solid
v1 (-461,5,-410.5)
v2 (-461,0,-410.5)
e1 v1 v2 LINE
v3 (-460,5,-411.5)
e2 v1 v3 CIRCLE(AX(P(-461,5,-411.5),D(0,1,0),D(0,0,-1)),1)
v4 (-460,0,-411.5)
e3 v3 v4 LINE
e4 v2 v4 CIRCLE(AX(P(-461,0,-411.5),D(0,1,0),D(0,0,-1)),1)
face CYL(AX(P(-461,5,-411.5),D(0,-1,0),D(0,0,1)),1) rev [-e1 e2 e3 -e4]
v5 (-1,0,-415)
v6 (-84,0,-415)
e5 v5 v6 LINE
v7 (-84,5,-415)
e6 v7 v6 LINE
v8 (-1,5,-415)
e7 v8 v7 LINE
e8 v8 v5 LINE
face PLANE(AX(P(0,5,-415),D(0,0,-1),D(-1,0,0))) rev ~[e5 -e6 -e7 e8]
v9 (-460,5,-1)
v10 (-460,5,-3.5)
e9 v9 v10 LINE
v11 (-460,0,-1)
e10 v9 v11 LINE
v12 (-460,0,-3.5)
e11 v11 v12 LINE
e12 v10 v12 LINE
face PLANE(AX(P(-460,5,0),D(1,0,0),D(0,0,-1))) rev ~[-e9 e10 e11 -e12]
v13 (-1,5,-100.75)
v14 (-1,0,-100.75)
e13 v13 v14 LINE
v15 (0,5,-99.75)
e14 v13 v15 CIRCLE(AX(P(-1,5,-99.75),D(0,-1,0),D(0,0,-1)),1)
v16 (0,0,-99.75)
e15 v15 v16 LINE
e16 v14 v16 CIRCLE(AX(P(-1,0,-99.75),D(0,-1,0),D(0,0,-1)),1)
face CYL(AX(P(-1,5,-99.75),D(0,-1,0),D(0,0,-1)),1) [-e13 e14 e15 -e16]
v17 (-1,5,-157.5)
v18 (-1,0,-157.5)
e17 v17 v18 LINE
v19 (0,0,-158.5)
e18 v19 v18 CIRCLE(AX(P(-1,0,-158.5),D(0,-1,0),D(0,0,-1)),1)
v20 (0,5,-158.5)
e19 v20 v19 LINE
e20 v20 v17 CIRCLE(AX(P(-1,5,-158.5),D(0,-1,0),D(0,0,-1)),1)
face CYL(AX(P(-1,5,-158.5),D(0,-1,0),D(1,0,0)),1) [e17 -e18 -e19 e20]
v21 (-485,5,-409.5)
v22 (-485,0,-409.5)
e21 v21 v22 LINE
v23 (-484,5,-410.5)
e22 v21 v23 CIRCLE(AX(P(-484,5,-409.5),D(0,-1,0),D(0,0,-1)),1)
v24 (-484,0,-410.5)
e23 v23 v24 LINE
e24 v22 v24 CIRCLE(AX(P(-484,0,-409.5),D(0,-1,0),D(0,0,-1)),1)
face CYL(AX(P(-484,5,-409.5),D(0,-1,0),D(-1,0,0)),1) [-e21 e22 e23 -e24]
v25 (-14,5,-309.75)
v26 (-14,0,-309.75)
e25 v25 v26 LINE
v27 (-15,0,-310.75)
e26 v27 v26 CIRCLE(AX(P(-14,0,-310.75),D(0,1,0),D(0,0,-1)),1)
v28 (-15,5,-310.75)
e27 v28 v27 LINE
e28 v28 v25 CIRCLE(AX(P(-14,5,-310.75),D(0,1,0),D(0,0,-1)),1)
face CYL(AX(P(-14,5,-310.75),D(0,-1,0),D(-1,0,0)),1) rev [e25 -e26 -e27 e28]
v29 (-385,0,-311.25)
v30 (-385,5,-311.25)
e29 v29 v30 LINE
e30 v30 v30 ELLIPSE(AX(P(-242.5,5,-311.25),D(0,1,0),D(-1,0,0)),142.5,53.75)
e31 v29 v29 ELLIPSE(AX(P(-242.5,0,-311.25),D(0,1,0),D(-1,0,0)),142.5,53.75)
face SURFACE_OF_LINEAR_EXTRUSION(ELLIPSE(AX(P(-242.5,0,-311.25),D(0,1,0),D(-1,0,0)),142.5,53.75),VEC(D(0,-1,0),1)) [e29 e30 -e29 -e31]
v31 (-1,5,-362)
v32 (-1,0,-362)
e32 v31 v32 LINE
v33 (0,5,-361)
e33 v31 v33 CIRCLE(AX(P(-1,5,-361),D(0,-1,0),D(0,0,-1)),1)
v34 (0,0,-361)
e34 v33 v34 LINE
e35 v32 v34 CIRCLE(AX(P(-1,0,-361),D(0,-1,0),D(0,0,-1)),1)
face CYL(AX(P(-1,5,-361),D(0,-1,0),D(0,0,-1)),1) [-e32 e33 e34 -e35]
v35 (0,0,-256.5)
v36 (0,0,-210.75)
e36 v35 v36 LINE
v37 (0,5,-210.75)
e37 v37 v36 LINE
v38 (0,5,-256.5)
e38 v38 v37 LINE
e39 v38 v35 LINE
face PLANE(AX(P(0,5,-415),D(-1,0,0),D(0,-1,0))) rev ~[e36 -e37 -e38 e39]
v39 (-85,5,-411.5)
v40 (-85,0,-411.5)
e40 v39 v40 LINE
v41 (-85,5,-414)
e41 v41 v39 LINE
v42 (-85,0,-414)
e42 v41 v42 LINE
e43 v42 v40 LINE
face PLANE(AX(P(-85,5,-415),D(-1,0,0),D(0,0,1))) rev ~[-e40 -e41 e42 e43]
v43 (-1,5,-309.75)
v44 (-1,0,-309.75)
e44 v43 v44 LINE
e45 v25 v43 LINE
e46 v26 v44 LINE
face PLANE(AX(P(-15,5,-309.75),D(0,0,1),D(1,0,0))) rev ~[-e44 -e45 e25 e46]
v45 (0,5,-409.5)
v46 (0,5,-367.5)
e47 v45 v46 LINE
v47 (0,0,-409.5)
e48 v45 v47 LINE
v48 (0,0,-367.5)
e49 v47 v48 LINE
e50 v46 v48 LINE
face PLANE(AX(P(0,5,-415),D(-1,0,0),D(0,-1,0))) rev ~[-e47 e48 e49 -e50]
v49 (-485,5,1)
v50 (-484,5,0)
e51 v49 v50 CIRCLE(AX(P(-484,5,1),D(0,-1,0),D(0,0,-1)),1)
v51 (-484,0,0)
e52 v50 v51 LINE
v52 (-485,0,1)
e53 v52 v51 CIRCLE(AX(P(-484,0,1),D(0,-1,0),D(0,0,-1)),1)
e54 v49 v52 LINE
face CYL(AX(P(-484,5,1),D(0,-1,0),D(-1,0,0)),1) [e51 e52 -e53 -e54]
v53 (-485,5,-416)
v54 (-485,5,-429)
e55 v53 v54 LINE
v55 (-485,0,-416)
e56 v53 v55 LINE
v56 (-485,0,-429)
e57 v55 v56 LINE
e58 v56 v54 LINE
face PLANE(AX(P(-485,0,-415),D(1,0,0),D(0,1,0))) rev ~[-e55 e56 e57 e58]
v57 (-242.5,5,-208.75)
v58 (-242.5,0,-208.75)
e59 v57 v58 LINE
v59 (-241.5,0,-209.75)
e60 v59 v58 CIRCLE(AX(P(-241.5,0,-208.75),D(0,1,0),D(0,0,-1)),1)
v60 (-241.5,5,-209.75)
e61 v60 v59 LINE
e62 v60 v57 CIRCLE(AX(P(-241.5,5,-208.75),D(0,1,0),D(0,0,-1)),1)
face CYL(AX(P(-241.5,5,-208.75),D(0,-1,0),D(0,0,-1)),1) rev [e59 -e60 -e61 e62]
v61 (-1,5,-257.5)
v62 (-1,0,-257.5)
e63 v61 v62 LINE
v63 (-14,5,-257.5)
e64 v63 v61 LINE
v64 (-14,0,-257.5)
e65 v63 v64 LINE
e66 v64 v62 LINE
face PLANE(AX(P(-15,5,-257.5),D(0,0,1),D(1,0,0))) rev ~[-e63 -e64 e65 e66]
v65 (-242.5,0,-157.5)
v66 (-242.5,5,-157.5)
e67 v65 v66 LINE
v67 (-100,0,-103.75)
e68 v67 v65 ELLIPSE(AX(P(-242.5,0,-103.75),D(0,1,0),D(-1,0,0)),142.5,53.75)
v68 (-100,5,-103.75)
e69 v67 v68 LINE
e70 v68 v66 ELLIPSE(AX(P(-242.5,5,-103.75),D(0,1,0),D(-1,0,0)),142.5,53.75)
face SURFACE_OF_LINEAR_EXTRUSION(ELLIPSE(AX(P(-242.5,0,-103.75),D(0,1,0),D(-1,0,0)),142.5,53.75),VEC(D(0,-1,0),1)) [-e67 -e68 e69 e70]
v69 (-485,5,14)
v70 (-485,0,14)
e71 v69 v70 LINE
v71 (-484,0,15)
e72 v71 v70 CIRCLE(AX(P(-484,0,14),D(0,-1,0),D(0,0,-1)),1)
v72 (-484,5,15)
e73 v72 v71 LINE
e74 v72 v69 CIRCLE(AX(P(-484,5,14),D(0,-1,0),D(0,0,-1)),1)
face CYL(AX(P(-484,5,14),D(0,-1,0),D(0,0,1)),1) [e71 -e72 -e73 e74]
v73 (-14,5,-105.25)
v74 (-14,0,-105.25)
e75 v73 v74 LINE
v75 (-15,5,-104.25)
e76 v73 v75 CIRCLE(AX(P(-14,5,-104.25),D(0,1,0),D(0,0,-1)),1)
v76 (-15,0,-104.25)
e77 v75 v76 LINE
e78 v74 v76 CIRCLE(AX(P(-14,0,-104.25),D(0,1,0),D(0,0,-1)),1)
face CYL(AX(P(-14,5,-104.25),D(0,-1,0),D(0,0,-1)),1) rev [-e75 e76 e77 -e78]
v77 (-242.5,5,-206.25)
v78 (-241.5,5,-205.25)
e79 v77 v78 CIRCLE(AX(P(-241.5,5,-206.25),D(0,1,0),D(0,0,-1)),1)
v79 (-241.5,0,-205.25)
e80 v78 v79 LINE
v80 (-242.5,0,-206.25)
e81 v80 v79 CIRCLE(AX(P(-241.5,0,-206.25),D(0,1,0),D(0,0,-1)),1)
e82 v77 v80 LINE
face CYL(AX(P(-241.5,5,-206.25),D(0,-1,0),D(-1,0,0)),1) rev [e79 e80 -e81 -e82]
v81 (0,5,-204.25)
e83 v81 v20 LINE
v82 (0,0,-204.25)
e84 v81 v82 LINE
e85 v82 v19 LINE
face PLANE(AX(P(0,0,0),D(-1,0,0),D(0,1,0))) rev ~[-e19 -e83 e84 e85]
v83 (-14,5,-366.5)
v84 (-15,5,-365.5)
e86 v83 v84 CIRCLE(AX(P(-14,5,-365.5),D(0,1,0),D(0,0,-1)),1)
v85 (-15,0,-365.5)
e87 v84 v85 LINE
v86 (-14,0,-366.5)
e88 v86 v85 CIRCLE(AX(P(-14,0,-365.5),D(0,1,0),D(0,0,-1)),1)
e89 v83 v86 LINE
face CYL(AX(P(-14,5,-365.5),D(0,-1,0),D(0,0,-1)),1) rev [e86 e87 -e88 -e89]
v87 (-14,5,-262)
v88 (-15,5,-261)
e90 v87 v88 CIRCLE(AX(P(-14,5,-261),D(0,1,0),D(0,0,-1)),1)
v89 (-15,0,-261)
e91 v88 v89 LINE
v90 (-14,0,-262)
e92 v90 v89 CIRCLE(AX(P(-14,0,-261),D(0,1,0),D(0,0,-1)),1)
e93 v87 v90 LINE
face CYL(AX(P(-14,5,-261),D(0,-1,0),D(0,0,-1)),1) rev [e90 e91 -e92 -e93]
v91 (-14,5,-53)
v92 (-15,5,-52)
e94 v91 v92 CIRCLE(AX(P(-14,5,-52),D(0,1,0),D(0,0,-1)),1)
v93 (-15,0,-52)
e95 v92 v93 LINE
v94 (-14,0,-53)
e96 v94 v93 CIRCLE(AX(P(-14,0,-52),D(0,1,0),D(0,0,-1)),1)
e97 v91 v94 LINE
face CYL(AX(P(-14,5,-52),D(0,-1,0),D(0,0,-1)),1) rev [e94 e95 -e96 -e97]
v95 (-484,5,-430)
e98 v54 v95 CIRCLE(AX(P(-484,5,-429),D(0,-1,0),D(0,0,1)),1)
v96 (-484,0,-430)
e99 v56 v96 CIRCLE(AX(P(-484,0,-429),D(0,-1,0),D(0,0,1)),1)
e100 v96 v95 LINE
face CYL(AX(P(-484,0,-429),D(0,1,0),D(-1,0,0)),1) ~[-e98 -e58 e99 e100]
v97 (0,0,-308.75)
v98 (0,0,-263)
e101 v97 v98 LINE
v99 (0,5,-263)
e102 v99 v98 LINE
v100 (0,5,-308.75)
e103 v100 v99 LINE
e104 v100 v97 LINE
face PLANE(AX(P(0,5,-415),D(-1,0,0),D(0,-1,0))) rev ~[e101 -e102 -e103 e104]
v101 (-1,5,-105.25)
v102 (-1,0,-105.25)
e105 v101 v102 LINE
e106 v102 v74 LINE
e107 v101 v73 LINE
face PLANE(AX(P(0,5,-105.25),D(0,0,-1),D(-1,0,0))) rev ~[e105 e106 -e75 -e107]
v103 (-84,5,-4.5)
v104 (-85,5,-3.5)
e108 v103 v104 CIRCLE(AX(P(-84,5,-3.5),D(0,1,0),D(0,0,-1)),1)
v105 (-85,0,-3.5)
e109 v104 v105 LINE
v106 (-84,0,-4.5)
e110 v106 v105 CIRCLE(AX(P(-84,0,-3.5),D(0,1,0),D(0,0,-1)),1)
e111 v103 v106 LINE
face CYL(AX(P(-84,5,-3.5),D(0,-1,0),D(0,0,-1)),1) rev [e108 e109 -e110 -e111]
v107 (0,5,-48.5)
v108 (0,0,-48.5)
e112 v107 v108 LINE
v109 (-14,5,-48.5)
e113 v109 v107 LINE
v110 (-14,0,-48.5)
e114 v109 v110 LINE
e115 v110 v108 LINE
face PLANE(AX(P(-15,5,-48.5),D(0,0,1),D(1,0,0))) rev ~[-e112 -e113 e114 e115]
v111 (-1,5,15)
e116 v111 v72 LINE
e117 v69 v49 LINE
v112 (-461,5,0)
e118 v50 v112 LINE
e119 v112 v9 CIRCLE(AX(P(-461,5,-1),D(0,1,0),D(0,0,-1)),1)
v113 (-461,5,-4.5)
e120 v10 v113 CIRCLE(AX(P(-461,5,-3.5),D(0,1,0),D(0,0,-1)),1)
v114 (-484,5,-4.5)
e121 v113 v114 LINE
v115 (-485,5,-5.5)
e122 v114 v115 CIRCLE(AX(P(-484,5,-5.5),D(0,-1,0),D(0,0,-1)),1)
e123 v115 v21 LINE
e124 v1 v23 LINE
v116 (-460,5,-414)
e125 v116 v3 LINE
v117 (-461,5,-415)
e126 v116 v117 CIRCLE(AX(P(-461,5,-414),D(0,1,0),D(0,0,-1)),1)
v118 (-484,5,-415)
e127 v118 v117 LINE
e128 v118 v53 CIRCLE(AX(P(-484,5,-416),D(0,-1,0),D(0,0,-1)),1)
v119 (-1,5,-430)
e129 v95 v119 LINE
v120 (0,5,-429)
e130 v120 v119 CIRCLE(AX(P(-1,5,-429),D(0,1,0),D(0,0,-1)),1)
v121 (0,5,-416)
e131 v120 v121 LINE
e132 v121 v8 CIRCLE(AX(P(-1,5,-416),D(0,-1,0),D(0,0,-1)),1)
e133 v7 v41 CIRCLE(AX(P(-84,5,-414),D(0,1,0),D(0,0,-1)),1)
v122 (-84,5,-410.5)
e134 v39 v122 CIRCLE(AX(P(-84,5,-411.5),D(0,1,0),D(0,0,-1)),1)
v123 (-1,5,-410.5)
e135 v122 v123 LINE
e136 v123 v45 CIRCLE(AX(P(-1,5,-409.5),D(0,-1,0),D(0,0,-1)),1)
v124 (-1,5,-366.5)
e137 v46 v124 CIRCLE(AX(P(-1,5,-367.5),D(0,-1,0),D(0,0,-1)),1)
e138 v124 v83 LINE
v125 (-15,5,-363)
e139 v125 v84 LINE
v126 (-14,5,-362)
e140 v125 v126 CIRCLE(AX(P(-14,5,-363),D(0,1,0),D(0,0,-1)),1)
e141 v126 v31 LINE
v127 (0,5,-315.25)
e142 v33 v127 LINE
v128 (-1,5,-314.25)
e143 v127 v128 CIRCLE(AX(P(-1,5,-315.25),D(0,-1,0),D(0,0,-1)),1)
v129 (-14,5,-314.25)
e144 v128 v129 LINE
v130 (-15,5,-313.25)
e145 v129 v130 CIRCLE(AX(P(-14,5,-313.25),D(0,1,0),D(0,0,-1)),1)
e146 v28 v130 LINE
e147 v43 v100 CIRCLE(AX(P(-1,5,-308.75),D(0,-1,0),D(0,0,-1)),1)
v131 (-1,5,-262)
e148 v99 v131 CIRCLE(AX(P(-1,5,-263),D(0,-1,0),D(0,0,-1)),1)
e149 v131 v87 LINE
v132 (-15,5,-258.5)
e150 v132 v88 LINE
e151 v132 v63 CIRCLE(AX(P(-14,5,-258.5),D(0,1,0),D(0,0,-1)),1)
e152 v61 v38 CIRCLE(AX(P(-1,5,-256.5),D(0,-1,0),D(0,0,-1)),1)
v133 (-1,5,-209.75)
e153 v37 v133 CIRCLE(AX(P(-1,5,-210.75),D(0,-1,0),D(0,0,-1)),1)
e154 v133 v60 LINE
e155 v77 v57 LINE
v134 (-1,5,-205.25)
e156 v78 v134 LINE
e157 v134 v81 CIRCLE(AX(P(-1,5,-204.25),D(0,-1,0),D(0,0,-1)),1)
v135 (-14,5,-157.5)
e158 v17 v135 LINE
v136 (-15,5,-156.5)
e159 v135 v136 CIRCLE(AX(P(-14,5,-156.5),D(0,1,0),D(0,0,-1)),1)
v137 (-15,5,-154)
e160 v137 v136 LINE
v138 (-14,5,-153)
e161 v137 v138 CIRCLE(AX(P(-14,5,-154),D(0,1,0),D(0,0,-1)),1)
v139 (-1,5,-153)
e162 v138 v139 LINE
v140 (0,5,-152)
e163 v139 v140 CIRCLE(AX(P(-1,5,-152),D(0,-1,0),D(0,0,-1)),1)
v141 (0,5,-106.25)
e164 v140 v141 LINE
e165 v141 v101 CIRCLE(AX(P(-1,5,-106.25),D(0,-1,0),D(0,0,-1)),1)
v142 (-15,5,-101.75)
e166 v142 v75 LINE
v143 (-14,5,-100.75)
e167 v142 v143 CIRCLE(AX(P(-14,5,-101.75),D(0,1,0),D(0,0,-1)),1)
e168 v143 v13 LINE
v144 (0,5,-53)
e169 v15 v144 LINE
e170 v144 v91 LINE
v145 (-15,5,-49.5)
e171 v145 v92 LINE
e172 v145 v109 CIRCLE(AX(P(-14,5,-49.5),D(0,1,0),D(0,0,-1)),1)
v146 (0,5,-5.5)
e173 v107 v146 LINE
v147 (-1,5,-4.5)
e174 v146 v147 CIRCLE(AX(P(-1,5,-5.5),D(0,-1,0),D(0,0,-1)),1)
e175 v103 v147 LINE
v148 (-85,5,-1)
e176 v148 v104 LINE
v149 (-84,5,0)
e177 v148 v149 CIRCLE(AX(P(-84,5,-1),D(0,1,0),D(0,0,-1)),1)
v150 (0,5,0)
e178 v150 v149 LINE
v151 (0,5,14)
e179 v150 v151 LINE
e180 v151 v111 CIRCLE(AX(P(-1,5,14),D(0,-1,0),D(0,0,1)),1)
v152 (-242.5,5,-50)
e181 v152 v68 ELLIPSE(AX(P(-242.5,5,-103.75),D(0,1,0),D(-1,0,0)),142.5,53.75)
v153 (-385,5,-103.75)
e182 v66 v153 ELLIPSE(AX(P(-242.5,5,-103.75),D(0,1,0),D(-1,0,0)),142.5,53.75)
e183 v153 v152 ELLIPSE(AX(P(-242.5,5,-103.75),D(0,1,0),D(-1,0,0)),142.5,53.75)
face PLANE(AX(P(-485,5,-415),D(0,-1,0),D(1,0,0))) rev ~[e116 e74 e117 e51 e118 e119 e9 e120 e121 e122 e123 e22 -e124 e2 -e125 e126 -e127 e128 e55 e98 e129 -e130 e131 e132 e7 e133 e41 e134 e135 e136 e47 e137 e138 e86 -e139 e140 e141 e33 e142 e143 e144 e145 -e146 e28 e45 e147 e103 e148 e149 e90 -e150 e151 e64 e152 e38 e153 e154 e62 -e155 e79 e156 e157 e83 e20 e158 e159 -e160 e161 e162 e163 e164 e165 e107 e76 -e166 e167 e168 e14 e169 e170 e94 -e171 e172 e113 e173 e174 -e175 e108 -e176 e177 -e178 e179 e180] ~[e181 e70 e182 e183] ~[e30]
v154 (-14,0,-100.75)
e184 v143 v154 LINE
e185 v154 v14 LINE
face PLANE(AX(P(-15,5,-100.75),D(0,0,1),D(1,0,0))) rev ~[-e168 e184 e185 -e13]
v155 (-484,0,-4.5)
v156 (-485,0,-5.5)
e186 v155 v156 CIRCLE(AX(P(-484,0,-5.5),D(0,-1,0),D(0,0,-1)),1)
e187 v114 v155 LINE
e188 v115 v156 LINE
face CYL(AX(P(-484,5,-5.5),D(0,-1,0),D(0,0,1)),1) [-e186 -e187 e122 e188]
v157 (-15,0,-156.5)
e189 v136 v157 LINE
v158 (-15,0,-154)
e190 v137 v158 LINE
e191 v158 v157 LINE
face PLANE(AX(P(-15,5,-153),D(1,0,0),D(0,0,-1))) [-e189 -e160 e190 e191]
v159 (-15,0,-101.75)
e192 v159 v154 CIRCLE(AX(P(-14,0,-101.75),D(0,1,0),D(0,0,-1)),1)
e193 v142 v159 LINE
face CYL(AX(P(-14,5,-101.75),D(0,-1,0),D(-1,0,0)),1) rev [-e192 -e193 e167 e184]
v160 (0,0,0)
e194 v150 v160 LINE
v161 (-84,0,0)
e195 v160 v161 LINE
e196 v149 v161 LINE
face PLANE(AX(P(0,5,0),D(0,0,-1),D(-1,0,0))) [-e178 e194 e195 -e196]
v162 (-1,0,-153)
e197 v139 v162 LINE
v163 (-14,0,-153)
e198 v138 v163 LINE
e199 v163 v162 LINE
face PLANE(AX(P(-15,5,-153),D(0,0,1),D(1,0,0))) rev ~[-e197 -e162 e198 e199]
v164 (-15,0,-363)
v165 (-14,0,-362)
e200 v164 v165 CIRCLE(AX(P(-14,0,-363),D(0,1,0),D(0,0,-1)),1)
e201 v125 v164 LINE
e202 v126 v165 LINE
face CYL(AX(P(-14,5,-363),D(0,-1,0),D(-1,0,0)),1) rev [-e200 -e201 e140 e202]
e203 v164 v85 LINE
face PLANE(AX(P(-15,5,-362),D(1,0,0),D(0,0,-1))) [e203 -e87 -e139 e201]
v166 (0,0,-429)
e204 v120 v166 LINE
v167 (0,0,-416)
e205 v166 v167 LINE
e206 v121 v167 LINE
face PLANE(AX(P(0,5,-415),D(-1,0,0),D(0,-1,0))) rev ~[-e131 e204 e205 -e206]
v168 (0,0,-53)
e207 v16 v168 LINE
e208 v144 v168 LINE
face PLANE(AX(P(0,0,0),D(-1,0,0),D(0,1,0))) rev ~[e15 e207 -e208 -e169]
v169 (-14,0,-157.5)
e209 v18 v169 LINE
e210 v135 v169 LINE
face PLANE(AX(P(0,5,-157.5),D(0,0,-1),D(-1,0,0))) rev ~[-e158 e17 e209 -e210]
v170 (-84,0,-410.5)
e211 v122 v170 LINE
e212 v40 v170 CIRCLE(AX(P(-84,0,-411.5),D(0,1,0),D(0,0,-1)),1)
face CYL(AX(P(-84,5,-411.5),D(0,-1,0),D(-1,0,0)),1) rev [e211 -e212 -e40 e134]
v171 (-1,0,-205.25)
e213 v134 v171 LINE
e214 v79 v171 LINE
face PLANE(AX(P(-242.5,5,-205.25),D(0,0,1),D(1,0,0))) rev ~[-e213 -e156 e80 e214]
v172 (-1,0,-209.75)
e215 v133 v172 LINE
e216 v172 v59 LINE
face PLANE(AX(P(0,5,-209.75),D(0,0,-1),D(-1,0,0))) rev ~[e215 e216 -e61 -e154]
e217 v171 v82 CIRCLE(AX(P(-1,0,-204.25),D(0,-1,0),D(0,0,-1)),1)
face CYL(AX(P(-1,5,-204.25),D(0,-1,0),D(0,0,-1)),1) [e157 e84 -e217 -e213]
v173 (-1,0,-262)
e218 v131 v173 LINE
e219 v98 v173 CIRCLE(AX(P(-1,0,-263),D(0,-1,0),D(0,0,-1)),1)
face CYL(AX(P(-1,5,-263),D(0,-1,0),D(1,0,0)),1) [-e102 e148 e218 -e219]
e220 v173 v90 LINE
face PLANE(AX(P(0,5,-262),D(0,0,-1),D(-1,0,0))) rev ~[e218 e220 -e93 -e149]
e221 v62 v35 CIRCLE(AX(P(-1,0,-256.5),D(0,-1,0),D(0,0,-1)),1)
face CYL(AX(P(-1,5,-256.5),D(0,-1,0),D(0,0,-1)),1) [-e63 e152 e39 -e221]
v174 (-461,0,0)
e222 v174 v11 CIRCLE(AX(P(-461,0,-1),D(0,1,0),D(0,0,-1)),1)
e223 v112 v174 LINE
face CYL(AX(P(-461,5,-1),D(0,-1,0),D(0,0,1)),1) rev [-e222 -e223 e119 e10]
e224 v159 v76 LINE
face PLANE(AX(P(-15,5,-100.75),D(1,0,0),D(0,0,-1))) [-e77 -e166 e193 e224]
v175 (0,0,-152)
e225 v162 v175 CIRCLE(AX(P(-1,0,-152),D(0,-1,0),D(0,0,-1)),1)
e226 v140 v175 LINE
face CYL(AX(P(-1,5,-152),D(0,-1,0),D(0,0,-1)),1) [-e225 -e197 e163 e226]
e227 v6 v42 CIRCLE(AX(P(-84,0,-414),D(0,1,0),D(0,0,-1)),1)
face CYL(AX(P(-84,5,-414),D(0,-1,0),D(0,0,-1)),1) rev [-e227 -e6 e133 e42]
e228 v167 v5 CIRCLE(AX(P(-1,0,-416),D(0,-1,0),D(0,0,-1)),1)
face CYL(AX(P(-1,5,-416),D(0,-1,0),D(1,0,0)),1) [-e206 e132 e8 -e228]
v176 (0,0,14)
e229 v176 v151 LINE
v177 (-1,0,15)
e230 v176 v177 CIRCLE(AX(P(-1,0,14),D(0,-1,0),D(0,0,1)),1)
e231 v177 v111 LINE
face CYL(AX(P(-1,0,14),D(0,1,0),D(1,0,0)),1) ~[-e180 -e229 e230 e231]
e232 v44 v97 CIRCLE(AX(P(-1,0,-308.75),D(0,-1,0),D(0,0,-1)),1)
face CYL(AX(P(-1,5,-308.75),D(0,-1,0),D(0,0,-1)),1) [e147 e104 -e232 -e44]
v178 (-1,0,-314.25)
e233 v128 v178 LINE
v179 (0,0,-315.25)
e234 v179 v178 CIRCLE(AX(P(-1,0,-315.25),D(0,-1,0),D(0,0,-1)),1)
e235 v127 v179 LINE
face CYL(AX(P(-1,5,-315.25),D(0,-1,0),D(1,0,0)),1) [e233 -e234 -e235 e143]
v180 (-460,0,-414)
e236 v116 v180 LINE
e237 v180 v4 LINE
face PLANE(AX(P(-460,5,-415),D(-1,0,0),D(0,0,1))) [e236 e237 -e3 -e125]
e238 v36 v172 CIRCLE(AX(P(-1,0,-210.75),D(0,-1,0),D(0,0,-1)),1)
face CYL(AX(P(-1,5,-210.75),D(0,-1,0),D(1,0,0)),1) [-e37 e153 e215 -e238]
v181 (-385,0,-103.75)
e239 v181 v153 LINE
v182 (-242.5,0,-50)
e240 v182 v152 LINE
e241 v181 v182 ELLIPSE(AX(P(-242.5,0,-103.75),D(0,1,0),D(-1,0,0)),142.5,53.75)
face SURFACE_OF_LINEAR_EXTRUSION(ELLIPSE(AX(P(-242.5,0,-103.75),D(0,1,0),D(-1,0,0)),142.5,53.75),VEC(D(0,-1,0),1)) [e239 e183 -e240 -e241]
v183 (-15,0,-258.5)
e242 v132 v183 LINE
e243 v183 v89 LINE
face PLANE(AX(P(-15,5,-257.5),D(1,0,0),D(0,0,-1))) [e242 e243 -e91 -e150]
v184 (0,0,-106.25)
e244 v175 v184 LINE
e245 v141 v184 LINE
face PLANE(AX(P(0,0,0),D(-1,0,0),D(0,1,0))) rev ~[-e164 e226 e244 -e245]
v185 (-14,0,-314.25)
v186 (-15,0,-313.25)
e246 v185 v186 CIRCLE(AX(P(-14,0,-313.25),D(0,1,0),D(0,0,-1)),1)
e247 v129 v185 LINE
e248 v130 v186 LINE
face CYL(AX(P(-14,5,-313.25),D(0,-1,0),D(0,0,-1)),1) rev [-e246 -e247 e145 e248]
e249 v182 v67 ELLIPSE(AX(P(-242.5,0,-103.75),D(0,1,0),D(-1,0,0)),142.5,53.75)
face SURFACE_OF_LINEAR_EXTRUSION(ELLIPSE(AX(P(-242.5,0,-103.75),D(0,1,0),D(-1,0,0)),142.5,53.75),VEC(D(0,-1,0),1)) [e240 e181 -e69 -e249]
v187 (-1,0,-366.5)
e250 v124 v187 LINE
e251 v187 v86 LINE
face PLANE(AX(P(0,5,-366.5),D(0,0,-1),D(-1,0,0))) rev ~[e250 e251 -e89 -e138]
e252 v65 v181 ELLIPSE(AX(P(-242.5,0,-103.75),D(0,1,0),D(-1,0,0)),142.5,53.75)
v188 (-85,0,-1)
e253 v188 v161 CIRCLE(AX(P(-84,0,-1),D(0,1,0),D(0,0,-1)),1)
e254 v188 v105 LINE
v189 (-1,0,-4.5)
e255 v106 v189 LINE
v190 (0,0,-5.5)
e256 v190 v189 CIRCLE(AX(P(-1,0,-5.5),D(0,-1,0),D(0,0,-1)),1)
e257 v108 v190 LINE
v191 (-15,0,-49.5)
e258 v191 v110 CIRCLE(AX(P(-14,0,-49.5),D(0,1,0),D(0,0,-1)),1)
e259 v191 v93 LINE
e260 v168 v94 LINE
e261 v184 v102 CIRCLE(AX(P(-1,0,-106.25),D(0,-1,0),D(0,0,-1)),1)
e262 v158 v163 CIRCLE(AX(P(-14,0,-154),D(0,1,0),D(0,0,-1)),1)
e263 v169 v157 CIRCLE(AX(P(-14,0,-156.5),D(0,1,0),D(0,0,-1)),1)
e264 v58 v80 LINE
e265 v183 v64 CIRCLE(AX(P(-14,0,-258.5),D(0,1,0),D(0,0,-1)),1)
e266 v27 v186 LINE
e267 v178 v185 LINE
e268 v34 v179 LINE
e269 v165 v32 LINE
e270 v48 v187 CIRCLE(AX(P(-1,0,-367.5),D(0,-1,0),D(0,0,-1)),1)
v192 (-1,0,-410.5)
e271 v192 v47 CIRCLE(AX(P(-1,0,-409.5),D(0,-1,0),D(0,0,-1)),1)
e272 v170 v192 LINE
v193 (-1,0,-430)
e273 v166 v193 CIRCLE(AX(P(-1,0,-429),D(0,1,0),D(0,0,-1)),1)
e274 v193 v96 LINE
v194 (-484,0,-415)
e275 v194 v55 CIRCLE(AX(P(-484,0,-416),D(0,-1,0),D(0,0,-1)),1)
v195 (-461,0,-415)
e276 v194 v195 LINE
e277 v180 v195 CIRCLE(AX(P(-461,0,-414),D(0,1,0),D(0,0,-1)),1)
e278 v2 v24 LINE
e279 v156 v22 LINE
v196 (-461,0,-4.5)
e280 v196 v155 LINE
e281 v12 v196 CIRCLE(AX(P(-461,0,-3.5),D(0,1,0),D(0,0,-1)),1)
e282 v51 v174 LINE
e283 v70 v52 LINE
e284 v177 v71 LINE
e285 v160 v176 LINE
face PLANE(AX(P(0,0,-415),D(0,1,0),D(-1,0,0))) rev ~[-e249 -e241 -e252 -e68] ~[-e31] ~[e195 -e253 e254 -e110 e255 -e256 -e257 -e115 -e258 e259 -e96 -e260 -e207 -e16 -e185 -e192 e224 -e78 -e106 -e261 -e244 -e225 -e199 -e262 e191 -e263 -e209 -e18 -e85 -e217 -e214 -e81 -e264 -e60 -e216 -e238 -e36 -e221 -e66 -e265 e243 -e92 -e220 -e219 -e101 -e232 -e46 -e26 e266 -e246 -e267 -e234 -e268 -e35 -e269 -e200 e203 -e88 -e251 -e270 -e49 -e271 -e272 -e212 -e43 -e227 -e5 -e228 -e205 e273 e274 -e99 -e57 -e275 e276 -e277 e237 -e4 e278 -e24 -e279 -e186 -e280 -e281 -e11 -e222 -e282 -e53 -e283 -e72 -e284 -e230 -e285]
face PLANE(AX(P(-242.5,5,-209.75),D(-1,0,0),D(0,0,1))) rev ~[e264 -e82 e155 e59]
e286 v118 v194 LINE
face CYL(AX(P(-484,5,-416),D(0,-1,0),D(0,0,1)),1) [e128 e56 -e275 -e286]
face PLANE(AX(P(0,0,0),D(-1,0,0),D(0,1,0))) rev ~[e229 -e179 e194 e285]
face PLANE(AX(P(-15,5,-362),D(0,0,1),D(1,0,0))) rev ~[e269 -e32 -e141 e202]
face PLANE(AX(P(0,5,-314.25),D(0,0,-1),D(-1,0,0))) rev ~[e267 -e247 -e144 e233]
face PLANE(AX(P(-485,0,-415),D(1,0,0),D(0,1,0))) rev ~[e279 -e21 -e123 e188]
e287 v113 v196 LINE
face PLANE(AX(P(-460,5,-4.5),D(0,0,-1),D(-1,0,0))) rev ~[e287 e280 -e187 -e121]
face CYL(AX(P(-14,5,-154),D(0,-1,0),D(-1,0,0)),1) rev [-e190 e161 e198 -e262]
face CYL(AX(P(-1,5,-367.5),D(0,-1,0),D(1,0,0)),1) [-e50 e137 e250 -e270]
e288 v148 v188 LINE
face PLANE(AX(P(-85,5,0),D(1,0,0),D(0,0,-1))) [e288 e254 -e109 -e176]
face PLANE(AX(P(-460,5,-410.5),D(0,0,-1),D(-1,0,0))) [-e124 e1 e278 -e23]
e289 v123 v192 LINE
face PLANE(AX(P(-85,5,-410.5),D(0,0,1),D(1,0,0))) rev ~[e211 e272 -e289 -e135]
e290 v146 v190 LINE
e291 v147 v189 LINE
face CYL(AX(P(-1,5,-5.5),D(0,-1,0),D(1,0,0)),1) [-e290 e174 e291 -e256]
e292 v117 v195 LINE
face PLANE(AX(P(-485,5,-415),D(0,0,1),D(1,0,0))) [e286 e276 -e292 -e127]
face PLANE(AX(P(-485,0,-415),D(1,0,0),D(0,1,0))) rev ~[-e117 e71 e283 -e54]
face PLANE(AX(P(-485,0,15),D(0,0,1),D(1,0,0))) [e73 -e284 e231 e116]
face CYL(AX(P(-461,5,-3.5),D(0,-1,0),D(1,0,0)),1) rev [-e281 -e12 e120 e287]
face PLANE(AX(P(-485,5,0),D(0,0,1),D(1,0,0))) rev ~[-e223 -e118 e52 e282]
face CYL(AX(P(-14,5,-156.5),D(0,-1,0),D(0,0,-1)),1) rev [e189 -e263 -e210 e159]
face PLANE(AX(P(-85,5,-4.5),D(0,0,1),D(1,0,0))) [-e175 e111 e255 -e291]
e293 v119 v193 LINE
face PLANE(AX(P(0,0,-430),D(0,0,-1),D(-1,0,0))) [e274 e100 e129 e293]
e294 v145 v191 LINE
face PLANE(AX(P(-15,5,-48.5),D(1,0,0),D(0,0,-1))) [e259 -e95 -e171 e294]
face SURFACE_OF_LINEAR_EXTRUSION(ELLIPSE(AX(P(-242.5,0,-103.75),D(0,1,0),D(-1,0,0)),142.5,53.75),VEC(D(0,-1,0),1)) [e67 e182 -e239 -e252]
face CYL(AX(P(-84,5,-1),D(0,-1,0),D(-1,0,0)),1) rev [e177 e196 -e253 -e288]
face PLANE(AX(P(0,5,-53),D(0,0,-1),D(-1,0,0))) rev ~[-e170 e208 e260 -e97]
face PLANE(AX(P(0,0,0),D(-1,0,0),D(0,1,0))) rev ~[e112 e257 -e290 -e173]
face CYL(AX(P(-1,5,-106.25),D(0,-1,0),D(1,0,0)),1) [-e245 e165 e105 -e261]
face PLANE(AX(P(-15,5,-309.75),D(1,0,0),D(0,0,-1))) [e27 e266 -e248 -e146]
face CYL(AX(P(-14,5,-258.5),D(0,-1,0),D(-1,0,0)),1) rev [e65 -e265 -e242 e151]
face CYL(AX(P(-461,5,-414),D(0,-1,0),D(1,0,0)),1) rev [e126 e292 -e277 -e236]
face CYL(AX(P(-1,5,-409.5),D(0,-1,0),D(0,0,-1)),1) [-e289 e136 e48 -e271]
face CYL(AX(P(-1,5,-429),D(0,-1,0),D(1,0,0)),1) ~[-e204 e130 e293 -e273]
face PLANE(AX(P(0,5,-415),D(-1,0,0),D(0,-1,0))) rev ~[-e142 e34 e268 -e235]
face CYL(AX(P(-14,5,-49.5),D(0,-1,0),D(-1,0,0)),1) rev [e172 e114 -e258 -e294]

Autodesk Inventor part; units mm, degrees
ref_plane "YZ Plane" through (0, 0, 0) normal (1, 0, 0) x (0, 1, 0)
ref_plane "XZ Plane" through (0, 0, 0) normal (0, 1, 0) x (-1, 0, 0)
ref_plane "XY Plane" through (0, 0, 0) normal (0, 0, 1) x (1, 0, 0)
sketch "Sketch1" plane through (0, 0, 0) normal (0, 1, 0) x (-1, 0, 0)
  line L0 (0, 0) -> (485, 0)
  line L1 (485, 0) -> (485, -415)
  line L2 (485, -415) -> (0, -415)
  line L3 (0, -415) -> (0, 0)
  line L4 (485, -207.5) -> (0, -207.5)
  line L5 (0, -207.5) -> (0, 0)
  line L6 (0, -103.75) -> (100, -103.75)
  line L7 (485, -103.75) -> (385, -103.75)
  line L8 (242.5, 0) -> (242.5, -103.75)
  line L9 (242.5, -207.5) -> (242.5, -157.5)
  ellipse E0 centre (242.5, -103.75) end of major axis (385, -103.75) minor radius 53.75
  ellipse E1 centre (242.5, -311.25) end of major axis (385, -311.25) minor radius 53.75
  dimension "d0" = 485
  dimension "d1" = 415
  dimension "d2" = 100
  dimension "d3" = 100
  dimension "d4" = 103.75
  dimension "d5" = 50
  dimension "d6" = 103.75
  dimension "d7" = 103.75
extrude "Extrusion1" add sketch "Sketch1" along normal blind 5 contours L0 L8 E0 L6 L3 | L0 L1 L7 E0 L8 | L6 E0 L9 L4 L3 | L4 L1 L2 L3 | L1 L4 L9 E0 L7
sketch "Sketch2" plane through (0, 5, 0) normal (0, 1, 0) x (1, 0, 0)
  line L0 (0, 0) -> (0, 415) projected
  line L1 (0, 207.5) -> (0, 209.75)
  line L2 (0, 209.75) -> (0, 207.5)
  line L3 (-485, 0) -> (0, 0) projected
  line L4 (-242.5, 0) -> (-242.5, 207.5)
  line L5 (0, 209.75) -> (-242.5, 209.75)
  line L6 (-242.5, 209.75) -> (-242.5, 205.25)
  line L7 (-242.5, 205.25) -> (0, 205.25)
  line L8 (0, 205.25) -> (0, 209.75)
  point P0 (0, 205.25)
  dimension "d10" = 2.25
  dimension "d11" = 4.5
extrude "Extrusion2" cut sketch "Sketch2" against normal blind 5 contours L7 L4 L6 L5 L0
sketch "Sketch3" plane through (-485, 0, 0) normal (0, 0, 1) x (1, 0, 0)
  line L0 (485, 0) -> (0, 0) projected
  line L1 (485, 0) -> (485, 5) projected
  line L2 (0, 0) -> (485, 0)
  line L3 (485, 0) -> (485, 5)
  line L4 (485, 5) -> (0, 5)
  line L5 (0, 5) -> (0, 0)
extrude "Extrusion3" add sketch "Sketch3" along normal blind 15
sketch "Sketch4" plane through (0, 0, -415) normal (0, 0, -1) x (-1, 0, 0)
  line L0 (485, 0) -> (485, 5) projected
  line L1 (485, 5) -> (0, 5)
  line L2 (0, 5) -> (0, 0)
  line L3 (0, 0) -> (485, 0)
  line L4 (485, 0) -> (485, 5)
extrude "Extrusion4" add sketch "Sketch4" along normal blind 15
sketch "Sketch5" plane through (0, 5, 0) normal (0, 1, 0) x (1, 0, 0)
  line L0 (-485, -15) -> (-485, 430) projected
  line L1 (-485, 207.5) -> (54.8472, 207.5)
  line L2 (-485, 0) -> (-460, 0)
  line L3 (-460, 0) -> (-460, 4.5)
  line L4 (-460, 4.5) -> (-485, 4.5)
  line L5 (-485, 4.5) -> (-485, 0)
  line L6 (0, 0) -> (-85, 0)
  line L7 (-85, 0) -> (-85, 4.5)
  line L8 (-85, 4.5) -> (0, 4.5)
  line L9 (0, 4.5) -> (0, 0)
  line L10 (0, -15) -> (-485, -15) projected
  line L11 (-485, 415) -> (-460, 415)
  line L12 (-460, 415) -> (-460, 410.5)
  line L13 (-460, 410.5) -> (-485, 410.5)
  line L14 (-485, 410.5) -> (-485, 415)
  line L15 (0, 415) -> (-85, 415)
  line L16 (-85, 415) -> (-85, 410.5)
  line L17 (-85, 410.5) -> (0, 410.5)
  line L18 (0, 410.5) -> (0, 415)
  line L19 (0, 205.25) -> (-242.5, 205.25) projected
  line L20 (-242.5, 205.25) -> (-242.5, 207.5)
  line L21 (-242.5, 205.25) -> (-242.5, 209.75) projected
  dimension "d18" = 25
  dimension "d19" = 4.5
  dimension "d20" = 85
  dimension "d21" = 4.5
  dimension "d22" = 15
extrude "Extrusion5" cut sketch "Sketch5" against normal blind 5
sketch "Sketch6" plane through (0, 5, 0) normal (0, 1, 0) x (1, 0, 0)
  line L0 (-15, 4.5) -> (-15, 584.4984)
  line L1 (-15, 4.5) -> (-15, 48.5)
  line L2 (-15, 48.5) -> (0, 48.5)
  line L3 (0, 48.5) -> (0, 53)
  line L4 (0, 53) -> (-15, 53)
  line L5 (-15, 53) -> (-15, 48.5)
  line L6 (-15, 100.75) -> (0, 100.75)
  line L7 (0, 100.75) -> (0, 105.25)
  line L8 (0, 105.25) -> (-15, 105.25)
  line L9 (-15, 105.25) -> (-15, 100.75)
  line L10 (-15, 153) -> (0, 153)
  line L11 (0, 153) -> (0, 157.5)
  line L12 (0, 157.5) -> (-15, 157.5)
  line L13 (-15, 157.5) -> (-15, 153)
  line L14 (-15, 205.25) -> (0, 205.25)
  line L15 (0, 205.25) -> (0, 209.75)
  line L16 (0, 209.75) -> (-15, 209.75)
  line L17 (-15, 209.75) -> (-15, 205.25)
  line L18 (-15, 257.5) -> (0, 257.5)
  line L19 (0, 257.5) -> (0, 262)
  line L20 (0, 262) -> (-15, 262)
  line L21 (-15, 262) -> (-15, 257.5)
  line L22 (-15, 309.75) -> (0, 309.75)
  line L23 (0, 309.75) -> (0, 314.25)
  line L24 (0, 314.25) -> (-15, 314.25)
  line L25 (-15, 314.25) -> (-15, 309.75)
  line L26 (-15, 362) -> (0, 362)
  line L27 (0, 362) -> (0, 366.5)
  line L28 (0, 366.5) -> (-15, 366.5)
  line L29 (-15, 366.5) -> (-15, 362)
  line L30 (0, 205.25) -> (0, 4.5) projected
  line L31 (0, 4.5) -> (-15, 4.5)
  line L32 (0, 4.5) -> (-85, 4.5) projected
  line L33 (0, 209.75) -> (0, 410.5) projected
  point P0 (0, 0)
  point P1 (-15, 53)
  point P2 (-15, 100.75)
  point P3 (-15, 105.25)
  point P4 (-15, 262)
  point P5 (-15, 257.5)
  point P6 (-15, 314.25)
  point P7 (-15, 309.75)
  point P8 (-15, 366.5)
  point P9 (-15, 362)
  dimension "d29" = 44
  dimension "d30" = 15
  dimension "d31" = 4.5
  dimension "d32" = 52.25
  dimension "d34" = 15
  dimension "d35" = 0
extrude "Extrusion6" cut sketch "Sketch6" against normal blind 5 contours L0 L4 L3 L2 | L0 L8 L7 L6 | L0 L12 L11 L10 | L0 L20 L19 L18 | L0 L24 L23 L22 | L0 L28 L27 L26
fillet "Fillet1" radius 1 45 edges at (-460, 2.5, 0) (-460, 2.5, -4.5) (-485, 2.5, -4.5) (-485, 2.5, 0) (-485, 2.5, 15) (0, 2.5, 15) (-85, 2.5, -4.5) (-85, 2.5, 0) (0, 2.5, -4.5) (-15, 2.5, -53) (-15, 2.5, -48.5) (-15, 2.5, -105.25) (-15, 2.5, -100.75) (0, 2.5, -100.75) (0, 2.5, -105.25) (-15, 2.5, -157.5) (-15, 2.5, -153) (0, 2.5, -153) (0, 2.5, -157.5) (0, 2.5, -205.25) (0, 2.5, -209.75) (-242.5, 2.5, -209.75) (-242.5, 2.5, -205.25) (0, 2.5, -257.5) (0, 2.5, -262) (-15, 2.5, -262) (-15, 2.5, -257.5) (0, 2.5, -309.75) (0, 2.5, -314.25) (-15, 2.5, -314.25) (-15, 2.5, -309.75) (-15, 2.5, -366.5) (-15, 2.5, -362) (0, 2.5, -362) (0, 2.5, -366.5) (0, 2.5, -415) (0, 2.5, -410.5) (0, 2.5, -430) (-85, 2.5, -415) (-85, 2.5, -410.5) (-460, 2.5, -410.5) (-460, 2.5, -415) (-485, 2.5, -430) (-485, 2.5, -415) (-485, 2.5, -410.5)
properties part number "inside_leg_2" material "Foam Core Board"
